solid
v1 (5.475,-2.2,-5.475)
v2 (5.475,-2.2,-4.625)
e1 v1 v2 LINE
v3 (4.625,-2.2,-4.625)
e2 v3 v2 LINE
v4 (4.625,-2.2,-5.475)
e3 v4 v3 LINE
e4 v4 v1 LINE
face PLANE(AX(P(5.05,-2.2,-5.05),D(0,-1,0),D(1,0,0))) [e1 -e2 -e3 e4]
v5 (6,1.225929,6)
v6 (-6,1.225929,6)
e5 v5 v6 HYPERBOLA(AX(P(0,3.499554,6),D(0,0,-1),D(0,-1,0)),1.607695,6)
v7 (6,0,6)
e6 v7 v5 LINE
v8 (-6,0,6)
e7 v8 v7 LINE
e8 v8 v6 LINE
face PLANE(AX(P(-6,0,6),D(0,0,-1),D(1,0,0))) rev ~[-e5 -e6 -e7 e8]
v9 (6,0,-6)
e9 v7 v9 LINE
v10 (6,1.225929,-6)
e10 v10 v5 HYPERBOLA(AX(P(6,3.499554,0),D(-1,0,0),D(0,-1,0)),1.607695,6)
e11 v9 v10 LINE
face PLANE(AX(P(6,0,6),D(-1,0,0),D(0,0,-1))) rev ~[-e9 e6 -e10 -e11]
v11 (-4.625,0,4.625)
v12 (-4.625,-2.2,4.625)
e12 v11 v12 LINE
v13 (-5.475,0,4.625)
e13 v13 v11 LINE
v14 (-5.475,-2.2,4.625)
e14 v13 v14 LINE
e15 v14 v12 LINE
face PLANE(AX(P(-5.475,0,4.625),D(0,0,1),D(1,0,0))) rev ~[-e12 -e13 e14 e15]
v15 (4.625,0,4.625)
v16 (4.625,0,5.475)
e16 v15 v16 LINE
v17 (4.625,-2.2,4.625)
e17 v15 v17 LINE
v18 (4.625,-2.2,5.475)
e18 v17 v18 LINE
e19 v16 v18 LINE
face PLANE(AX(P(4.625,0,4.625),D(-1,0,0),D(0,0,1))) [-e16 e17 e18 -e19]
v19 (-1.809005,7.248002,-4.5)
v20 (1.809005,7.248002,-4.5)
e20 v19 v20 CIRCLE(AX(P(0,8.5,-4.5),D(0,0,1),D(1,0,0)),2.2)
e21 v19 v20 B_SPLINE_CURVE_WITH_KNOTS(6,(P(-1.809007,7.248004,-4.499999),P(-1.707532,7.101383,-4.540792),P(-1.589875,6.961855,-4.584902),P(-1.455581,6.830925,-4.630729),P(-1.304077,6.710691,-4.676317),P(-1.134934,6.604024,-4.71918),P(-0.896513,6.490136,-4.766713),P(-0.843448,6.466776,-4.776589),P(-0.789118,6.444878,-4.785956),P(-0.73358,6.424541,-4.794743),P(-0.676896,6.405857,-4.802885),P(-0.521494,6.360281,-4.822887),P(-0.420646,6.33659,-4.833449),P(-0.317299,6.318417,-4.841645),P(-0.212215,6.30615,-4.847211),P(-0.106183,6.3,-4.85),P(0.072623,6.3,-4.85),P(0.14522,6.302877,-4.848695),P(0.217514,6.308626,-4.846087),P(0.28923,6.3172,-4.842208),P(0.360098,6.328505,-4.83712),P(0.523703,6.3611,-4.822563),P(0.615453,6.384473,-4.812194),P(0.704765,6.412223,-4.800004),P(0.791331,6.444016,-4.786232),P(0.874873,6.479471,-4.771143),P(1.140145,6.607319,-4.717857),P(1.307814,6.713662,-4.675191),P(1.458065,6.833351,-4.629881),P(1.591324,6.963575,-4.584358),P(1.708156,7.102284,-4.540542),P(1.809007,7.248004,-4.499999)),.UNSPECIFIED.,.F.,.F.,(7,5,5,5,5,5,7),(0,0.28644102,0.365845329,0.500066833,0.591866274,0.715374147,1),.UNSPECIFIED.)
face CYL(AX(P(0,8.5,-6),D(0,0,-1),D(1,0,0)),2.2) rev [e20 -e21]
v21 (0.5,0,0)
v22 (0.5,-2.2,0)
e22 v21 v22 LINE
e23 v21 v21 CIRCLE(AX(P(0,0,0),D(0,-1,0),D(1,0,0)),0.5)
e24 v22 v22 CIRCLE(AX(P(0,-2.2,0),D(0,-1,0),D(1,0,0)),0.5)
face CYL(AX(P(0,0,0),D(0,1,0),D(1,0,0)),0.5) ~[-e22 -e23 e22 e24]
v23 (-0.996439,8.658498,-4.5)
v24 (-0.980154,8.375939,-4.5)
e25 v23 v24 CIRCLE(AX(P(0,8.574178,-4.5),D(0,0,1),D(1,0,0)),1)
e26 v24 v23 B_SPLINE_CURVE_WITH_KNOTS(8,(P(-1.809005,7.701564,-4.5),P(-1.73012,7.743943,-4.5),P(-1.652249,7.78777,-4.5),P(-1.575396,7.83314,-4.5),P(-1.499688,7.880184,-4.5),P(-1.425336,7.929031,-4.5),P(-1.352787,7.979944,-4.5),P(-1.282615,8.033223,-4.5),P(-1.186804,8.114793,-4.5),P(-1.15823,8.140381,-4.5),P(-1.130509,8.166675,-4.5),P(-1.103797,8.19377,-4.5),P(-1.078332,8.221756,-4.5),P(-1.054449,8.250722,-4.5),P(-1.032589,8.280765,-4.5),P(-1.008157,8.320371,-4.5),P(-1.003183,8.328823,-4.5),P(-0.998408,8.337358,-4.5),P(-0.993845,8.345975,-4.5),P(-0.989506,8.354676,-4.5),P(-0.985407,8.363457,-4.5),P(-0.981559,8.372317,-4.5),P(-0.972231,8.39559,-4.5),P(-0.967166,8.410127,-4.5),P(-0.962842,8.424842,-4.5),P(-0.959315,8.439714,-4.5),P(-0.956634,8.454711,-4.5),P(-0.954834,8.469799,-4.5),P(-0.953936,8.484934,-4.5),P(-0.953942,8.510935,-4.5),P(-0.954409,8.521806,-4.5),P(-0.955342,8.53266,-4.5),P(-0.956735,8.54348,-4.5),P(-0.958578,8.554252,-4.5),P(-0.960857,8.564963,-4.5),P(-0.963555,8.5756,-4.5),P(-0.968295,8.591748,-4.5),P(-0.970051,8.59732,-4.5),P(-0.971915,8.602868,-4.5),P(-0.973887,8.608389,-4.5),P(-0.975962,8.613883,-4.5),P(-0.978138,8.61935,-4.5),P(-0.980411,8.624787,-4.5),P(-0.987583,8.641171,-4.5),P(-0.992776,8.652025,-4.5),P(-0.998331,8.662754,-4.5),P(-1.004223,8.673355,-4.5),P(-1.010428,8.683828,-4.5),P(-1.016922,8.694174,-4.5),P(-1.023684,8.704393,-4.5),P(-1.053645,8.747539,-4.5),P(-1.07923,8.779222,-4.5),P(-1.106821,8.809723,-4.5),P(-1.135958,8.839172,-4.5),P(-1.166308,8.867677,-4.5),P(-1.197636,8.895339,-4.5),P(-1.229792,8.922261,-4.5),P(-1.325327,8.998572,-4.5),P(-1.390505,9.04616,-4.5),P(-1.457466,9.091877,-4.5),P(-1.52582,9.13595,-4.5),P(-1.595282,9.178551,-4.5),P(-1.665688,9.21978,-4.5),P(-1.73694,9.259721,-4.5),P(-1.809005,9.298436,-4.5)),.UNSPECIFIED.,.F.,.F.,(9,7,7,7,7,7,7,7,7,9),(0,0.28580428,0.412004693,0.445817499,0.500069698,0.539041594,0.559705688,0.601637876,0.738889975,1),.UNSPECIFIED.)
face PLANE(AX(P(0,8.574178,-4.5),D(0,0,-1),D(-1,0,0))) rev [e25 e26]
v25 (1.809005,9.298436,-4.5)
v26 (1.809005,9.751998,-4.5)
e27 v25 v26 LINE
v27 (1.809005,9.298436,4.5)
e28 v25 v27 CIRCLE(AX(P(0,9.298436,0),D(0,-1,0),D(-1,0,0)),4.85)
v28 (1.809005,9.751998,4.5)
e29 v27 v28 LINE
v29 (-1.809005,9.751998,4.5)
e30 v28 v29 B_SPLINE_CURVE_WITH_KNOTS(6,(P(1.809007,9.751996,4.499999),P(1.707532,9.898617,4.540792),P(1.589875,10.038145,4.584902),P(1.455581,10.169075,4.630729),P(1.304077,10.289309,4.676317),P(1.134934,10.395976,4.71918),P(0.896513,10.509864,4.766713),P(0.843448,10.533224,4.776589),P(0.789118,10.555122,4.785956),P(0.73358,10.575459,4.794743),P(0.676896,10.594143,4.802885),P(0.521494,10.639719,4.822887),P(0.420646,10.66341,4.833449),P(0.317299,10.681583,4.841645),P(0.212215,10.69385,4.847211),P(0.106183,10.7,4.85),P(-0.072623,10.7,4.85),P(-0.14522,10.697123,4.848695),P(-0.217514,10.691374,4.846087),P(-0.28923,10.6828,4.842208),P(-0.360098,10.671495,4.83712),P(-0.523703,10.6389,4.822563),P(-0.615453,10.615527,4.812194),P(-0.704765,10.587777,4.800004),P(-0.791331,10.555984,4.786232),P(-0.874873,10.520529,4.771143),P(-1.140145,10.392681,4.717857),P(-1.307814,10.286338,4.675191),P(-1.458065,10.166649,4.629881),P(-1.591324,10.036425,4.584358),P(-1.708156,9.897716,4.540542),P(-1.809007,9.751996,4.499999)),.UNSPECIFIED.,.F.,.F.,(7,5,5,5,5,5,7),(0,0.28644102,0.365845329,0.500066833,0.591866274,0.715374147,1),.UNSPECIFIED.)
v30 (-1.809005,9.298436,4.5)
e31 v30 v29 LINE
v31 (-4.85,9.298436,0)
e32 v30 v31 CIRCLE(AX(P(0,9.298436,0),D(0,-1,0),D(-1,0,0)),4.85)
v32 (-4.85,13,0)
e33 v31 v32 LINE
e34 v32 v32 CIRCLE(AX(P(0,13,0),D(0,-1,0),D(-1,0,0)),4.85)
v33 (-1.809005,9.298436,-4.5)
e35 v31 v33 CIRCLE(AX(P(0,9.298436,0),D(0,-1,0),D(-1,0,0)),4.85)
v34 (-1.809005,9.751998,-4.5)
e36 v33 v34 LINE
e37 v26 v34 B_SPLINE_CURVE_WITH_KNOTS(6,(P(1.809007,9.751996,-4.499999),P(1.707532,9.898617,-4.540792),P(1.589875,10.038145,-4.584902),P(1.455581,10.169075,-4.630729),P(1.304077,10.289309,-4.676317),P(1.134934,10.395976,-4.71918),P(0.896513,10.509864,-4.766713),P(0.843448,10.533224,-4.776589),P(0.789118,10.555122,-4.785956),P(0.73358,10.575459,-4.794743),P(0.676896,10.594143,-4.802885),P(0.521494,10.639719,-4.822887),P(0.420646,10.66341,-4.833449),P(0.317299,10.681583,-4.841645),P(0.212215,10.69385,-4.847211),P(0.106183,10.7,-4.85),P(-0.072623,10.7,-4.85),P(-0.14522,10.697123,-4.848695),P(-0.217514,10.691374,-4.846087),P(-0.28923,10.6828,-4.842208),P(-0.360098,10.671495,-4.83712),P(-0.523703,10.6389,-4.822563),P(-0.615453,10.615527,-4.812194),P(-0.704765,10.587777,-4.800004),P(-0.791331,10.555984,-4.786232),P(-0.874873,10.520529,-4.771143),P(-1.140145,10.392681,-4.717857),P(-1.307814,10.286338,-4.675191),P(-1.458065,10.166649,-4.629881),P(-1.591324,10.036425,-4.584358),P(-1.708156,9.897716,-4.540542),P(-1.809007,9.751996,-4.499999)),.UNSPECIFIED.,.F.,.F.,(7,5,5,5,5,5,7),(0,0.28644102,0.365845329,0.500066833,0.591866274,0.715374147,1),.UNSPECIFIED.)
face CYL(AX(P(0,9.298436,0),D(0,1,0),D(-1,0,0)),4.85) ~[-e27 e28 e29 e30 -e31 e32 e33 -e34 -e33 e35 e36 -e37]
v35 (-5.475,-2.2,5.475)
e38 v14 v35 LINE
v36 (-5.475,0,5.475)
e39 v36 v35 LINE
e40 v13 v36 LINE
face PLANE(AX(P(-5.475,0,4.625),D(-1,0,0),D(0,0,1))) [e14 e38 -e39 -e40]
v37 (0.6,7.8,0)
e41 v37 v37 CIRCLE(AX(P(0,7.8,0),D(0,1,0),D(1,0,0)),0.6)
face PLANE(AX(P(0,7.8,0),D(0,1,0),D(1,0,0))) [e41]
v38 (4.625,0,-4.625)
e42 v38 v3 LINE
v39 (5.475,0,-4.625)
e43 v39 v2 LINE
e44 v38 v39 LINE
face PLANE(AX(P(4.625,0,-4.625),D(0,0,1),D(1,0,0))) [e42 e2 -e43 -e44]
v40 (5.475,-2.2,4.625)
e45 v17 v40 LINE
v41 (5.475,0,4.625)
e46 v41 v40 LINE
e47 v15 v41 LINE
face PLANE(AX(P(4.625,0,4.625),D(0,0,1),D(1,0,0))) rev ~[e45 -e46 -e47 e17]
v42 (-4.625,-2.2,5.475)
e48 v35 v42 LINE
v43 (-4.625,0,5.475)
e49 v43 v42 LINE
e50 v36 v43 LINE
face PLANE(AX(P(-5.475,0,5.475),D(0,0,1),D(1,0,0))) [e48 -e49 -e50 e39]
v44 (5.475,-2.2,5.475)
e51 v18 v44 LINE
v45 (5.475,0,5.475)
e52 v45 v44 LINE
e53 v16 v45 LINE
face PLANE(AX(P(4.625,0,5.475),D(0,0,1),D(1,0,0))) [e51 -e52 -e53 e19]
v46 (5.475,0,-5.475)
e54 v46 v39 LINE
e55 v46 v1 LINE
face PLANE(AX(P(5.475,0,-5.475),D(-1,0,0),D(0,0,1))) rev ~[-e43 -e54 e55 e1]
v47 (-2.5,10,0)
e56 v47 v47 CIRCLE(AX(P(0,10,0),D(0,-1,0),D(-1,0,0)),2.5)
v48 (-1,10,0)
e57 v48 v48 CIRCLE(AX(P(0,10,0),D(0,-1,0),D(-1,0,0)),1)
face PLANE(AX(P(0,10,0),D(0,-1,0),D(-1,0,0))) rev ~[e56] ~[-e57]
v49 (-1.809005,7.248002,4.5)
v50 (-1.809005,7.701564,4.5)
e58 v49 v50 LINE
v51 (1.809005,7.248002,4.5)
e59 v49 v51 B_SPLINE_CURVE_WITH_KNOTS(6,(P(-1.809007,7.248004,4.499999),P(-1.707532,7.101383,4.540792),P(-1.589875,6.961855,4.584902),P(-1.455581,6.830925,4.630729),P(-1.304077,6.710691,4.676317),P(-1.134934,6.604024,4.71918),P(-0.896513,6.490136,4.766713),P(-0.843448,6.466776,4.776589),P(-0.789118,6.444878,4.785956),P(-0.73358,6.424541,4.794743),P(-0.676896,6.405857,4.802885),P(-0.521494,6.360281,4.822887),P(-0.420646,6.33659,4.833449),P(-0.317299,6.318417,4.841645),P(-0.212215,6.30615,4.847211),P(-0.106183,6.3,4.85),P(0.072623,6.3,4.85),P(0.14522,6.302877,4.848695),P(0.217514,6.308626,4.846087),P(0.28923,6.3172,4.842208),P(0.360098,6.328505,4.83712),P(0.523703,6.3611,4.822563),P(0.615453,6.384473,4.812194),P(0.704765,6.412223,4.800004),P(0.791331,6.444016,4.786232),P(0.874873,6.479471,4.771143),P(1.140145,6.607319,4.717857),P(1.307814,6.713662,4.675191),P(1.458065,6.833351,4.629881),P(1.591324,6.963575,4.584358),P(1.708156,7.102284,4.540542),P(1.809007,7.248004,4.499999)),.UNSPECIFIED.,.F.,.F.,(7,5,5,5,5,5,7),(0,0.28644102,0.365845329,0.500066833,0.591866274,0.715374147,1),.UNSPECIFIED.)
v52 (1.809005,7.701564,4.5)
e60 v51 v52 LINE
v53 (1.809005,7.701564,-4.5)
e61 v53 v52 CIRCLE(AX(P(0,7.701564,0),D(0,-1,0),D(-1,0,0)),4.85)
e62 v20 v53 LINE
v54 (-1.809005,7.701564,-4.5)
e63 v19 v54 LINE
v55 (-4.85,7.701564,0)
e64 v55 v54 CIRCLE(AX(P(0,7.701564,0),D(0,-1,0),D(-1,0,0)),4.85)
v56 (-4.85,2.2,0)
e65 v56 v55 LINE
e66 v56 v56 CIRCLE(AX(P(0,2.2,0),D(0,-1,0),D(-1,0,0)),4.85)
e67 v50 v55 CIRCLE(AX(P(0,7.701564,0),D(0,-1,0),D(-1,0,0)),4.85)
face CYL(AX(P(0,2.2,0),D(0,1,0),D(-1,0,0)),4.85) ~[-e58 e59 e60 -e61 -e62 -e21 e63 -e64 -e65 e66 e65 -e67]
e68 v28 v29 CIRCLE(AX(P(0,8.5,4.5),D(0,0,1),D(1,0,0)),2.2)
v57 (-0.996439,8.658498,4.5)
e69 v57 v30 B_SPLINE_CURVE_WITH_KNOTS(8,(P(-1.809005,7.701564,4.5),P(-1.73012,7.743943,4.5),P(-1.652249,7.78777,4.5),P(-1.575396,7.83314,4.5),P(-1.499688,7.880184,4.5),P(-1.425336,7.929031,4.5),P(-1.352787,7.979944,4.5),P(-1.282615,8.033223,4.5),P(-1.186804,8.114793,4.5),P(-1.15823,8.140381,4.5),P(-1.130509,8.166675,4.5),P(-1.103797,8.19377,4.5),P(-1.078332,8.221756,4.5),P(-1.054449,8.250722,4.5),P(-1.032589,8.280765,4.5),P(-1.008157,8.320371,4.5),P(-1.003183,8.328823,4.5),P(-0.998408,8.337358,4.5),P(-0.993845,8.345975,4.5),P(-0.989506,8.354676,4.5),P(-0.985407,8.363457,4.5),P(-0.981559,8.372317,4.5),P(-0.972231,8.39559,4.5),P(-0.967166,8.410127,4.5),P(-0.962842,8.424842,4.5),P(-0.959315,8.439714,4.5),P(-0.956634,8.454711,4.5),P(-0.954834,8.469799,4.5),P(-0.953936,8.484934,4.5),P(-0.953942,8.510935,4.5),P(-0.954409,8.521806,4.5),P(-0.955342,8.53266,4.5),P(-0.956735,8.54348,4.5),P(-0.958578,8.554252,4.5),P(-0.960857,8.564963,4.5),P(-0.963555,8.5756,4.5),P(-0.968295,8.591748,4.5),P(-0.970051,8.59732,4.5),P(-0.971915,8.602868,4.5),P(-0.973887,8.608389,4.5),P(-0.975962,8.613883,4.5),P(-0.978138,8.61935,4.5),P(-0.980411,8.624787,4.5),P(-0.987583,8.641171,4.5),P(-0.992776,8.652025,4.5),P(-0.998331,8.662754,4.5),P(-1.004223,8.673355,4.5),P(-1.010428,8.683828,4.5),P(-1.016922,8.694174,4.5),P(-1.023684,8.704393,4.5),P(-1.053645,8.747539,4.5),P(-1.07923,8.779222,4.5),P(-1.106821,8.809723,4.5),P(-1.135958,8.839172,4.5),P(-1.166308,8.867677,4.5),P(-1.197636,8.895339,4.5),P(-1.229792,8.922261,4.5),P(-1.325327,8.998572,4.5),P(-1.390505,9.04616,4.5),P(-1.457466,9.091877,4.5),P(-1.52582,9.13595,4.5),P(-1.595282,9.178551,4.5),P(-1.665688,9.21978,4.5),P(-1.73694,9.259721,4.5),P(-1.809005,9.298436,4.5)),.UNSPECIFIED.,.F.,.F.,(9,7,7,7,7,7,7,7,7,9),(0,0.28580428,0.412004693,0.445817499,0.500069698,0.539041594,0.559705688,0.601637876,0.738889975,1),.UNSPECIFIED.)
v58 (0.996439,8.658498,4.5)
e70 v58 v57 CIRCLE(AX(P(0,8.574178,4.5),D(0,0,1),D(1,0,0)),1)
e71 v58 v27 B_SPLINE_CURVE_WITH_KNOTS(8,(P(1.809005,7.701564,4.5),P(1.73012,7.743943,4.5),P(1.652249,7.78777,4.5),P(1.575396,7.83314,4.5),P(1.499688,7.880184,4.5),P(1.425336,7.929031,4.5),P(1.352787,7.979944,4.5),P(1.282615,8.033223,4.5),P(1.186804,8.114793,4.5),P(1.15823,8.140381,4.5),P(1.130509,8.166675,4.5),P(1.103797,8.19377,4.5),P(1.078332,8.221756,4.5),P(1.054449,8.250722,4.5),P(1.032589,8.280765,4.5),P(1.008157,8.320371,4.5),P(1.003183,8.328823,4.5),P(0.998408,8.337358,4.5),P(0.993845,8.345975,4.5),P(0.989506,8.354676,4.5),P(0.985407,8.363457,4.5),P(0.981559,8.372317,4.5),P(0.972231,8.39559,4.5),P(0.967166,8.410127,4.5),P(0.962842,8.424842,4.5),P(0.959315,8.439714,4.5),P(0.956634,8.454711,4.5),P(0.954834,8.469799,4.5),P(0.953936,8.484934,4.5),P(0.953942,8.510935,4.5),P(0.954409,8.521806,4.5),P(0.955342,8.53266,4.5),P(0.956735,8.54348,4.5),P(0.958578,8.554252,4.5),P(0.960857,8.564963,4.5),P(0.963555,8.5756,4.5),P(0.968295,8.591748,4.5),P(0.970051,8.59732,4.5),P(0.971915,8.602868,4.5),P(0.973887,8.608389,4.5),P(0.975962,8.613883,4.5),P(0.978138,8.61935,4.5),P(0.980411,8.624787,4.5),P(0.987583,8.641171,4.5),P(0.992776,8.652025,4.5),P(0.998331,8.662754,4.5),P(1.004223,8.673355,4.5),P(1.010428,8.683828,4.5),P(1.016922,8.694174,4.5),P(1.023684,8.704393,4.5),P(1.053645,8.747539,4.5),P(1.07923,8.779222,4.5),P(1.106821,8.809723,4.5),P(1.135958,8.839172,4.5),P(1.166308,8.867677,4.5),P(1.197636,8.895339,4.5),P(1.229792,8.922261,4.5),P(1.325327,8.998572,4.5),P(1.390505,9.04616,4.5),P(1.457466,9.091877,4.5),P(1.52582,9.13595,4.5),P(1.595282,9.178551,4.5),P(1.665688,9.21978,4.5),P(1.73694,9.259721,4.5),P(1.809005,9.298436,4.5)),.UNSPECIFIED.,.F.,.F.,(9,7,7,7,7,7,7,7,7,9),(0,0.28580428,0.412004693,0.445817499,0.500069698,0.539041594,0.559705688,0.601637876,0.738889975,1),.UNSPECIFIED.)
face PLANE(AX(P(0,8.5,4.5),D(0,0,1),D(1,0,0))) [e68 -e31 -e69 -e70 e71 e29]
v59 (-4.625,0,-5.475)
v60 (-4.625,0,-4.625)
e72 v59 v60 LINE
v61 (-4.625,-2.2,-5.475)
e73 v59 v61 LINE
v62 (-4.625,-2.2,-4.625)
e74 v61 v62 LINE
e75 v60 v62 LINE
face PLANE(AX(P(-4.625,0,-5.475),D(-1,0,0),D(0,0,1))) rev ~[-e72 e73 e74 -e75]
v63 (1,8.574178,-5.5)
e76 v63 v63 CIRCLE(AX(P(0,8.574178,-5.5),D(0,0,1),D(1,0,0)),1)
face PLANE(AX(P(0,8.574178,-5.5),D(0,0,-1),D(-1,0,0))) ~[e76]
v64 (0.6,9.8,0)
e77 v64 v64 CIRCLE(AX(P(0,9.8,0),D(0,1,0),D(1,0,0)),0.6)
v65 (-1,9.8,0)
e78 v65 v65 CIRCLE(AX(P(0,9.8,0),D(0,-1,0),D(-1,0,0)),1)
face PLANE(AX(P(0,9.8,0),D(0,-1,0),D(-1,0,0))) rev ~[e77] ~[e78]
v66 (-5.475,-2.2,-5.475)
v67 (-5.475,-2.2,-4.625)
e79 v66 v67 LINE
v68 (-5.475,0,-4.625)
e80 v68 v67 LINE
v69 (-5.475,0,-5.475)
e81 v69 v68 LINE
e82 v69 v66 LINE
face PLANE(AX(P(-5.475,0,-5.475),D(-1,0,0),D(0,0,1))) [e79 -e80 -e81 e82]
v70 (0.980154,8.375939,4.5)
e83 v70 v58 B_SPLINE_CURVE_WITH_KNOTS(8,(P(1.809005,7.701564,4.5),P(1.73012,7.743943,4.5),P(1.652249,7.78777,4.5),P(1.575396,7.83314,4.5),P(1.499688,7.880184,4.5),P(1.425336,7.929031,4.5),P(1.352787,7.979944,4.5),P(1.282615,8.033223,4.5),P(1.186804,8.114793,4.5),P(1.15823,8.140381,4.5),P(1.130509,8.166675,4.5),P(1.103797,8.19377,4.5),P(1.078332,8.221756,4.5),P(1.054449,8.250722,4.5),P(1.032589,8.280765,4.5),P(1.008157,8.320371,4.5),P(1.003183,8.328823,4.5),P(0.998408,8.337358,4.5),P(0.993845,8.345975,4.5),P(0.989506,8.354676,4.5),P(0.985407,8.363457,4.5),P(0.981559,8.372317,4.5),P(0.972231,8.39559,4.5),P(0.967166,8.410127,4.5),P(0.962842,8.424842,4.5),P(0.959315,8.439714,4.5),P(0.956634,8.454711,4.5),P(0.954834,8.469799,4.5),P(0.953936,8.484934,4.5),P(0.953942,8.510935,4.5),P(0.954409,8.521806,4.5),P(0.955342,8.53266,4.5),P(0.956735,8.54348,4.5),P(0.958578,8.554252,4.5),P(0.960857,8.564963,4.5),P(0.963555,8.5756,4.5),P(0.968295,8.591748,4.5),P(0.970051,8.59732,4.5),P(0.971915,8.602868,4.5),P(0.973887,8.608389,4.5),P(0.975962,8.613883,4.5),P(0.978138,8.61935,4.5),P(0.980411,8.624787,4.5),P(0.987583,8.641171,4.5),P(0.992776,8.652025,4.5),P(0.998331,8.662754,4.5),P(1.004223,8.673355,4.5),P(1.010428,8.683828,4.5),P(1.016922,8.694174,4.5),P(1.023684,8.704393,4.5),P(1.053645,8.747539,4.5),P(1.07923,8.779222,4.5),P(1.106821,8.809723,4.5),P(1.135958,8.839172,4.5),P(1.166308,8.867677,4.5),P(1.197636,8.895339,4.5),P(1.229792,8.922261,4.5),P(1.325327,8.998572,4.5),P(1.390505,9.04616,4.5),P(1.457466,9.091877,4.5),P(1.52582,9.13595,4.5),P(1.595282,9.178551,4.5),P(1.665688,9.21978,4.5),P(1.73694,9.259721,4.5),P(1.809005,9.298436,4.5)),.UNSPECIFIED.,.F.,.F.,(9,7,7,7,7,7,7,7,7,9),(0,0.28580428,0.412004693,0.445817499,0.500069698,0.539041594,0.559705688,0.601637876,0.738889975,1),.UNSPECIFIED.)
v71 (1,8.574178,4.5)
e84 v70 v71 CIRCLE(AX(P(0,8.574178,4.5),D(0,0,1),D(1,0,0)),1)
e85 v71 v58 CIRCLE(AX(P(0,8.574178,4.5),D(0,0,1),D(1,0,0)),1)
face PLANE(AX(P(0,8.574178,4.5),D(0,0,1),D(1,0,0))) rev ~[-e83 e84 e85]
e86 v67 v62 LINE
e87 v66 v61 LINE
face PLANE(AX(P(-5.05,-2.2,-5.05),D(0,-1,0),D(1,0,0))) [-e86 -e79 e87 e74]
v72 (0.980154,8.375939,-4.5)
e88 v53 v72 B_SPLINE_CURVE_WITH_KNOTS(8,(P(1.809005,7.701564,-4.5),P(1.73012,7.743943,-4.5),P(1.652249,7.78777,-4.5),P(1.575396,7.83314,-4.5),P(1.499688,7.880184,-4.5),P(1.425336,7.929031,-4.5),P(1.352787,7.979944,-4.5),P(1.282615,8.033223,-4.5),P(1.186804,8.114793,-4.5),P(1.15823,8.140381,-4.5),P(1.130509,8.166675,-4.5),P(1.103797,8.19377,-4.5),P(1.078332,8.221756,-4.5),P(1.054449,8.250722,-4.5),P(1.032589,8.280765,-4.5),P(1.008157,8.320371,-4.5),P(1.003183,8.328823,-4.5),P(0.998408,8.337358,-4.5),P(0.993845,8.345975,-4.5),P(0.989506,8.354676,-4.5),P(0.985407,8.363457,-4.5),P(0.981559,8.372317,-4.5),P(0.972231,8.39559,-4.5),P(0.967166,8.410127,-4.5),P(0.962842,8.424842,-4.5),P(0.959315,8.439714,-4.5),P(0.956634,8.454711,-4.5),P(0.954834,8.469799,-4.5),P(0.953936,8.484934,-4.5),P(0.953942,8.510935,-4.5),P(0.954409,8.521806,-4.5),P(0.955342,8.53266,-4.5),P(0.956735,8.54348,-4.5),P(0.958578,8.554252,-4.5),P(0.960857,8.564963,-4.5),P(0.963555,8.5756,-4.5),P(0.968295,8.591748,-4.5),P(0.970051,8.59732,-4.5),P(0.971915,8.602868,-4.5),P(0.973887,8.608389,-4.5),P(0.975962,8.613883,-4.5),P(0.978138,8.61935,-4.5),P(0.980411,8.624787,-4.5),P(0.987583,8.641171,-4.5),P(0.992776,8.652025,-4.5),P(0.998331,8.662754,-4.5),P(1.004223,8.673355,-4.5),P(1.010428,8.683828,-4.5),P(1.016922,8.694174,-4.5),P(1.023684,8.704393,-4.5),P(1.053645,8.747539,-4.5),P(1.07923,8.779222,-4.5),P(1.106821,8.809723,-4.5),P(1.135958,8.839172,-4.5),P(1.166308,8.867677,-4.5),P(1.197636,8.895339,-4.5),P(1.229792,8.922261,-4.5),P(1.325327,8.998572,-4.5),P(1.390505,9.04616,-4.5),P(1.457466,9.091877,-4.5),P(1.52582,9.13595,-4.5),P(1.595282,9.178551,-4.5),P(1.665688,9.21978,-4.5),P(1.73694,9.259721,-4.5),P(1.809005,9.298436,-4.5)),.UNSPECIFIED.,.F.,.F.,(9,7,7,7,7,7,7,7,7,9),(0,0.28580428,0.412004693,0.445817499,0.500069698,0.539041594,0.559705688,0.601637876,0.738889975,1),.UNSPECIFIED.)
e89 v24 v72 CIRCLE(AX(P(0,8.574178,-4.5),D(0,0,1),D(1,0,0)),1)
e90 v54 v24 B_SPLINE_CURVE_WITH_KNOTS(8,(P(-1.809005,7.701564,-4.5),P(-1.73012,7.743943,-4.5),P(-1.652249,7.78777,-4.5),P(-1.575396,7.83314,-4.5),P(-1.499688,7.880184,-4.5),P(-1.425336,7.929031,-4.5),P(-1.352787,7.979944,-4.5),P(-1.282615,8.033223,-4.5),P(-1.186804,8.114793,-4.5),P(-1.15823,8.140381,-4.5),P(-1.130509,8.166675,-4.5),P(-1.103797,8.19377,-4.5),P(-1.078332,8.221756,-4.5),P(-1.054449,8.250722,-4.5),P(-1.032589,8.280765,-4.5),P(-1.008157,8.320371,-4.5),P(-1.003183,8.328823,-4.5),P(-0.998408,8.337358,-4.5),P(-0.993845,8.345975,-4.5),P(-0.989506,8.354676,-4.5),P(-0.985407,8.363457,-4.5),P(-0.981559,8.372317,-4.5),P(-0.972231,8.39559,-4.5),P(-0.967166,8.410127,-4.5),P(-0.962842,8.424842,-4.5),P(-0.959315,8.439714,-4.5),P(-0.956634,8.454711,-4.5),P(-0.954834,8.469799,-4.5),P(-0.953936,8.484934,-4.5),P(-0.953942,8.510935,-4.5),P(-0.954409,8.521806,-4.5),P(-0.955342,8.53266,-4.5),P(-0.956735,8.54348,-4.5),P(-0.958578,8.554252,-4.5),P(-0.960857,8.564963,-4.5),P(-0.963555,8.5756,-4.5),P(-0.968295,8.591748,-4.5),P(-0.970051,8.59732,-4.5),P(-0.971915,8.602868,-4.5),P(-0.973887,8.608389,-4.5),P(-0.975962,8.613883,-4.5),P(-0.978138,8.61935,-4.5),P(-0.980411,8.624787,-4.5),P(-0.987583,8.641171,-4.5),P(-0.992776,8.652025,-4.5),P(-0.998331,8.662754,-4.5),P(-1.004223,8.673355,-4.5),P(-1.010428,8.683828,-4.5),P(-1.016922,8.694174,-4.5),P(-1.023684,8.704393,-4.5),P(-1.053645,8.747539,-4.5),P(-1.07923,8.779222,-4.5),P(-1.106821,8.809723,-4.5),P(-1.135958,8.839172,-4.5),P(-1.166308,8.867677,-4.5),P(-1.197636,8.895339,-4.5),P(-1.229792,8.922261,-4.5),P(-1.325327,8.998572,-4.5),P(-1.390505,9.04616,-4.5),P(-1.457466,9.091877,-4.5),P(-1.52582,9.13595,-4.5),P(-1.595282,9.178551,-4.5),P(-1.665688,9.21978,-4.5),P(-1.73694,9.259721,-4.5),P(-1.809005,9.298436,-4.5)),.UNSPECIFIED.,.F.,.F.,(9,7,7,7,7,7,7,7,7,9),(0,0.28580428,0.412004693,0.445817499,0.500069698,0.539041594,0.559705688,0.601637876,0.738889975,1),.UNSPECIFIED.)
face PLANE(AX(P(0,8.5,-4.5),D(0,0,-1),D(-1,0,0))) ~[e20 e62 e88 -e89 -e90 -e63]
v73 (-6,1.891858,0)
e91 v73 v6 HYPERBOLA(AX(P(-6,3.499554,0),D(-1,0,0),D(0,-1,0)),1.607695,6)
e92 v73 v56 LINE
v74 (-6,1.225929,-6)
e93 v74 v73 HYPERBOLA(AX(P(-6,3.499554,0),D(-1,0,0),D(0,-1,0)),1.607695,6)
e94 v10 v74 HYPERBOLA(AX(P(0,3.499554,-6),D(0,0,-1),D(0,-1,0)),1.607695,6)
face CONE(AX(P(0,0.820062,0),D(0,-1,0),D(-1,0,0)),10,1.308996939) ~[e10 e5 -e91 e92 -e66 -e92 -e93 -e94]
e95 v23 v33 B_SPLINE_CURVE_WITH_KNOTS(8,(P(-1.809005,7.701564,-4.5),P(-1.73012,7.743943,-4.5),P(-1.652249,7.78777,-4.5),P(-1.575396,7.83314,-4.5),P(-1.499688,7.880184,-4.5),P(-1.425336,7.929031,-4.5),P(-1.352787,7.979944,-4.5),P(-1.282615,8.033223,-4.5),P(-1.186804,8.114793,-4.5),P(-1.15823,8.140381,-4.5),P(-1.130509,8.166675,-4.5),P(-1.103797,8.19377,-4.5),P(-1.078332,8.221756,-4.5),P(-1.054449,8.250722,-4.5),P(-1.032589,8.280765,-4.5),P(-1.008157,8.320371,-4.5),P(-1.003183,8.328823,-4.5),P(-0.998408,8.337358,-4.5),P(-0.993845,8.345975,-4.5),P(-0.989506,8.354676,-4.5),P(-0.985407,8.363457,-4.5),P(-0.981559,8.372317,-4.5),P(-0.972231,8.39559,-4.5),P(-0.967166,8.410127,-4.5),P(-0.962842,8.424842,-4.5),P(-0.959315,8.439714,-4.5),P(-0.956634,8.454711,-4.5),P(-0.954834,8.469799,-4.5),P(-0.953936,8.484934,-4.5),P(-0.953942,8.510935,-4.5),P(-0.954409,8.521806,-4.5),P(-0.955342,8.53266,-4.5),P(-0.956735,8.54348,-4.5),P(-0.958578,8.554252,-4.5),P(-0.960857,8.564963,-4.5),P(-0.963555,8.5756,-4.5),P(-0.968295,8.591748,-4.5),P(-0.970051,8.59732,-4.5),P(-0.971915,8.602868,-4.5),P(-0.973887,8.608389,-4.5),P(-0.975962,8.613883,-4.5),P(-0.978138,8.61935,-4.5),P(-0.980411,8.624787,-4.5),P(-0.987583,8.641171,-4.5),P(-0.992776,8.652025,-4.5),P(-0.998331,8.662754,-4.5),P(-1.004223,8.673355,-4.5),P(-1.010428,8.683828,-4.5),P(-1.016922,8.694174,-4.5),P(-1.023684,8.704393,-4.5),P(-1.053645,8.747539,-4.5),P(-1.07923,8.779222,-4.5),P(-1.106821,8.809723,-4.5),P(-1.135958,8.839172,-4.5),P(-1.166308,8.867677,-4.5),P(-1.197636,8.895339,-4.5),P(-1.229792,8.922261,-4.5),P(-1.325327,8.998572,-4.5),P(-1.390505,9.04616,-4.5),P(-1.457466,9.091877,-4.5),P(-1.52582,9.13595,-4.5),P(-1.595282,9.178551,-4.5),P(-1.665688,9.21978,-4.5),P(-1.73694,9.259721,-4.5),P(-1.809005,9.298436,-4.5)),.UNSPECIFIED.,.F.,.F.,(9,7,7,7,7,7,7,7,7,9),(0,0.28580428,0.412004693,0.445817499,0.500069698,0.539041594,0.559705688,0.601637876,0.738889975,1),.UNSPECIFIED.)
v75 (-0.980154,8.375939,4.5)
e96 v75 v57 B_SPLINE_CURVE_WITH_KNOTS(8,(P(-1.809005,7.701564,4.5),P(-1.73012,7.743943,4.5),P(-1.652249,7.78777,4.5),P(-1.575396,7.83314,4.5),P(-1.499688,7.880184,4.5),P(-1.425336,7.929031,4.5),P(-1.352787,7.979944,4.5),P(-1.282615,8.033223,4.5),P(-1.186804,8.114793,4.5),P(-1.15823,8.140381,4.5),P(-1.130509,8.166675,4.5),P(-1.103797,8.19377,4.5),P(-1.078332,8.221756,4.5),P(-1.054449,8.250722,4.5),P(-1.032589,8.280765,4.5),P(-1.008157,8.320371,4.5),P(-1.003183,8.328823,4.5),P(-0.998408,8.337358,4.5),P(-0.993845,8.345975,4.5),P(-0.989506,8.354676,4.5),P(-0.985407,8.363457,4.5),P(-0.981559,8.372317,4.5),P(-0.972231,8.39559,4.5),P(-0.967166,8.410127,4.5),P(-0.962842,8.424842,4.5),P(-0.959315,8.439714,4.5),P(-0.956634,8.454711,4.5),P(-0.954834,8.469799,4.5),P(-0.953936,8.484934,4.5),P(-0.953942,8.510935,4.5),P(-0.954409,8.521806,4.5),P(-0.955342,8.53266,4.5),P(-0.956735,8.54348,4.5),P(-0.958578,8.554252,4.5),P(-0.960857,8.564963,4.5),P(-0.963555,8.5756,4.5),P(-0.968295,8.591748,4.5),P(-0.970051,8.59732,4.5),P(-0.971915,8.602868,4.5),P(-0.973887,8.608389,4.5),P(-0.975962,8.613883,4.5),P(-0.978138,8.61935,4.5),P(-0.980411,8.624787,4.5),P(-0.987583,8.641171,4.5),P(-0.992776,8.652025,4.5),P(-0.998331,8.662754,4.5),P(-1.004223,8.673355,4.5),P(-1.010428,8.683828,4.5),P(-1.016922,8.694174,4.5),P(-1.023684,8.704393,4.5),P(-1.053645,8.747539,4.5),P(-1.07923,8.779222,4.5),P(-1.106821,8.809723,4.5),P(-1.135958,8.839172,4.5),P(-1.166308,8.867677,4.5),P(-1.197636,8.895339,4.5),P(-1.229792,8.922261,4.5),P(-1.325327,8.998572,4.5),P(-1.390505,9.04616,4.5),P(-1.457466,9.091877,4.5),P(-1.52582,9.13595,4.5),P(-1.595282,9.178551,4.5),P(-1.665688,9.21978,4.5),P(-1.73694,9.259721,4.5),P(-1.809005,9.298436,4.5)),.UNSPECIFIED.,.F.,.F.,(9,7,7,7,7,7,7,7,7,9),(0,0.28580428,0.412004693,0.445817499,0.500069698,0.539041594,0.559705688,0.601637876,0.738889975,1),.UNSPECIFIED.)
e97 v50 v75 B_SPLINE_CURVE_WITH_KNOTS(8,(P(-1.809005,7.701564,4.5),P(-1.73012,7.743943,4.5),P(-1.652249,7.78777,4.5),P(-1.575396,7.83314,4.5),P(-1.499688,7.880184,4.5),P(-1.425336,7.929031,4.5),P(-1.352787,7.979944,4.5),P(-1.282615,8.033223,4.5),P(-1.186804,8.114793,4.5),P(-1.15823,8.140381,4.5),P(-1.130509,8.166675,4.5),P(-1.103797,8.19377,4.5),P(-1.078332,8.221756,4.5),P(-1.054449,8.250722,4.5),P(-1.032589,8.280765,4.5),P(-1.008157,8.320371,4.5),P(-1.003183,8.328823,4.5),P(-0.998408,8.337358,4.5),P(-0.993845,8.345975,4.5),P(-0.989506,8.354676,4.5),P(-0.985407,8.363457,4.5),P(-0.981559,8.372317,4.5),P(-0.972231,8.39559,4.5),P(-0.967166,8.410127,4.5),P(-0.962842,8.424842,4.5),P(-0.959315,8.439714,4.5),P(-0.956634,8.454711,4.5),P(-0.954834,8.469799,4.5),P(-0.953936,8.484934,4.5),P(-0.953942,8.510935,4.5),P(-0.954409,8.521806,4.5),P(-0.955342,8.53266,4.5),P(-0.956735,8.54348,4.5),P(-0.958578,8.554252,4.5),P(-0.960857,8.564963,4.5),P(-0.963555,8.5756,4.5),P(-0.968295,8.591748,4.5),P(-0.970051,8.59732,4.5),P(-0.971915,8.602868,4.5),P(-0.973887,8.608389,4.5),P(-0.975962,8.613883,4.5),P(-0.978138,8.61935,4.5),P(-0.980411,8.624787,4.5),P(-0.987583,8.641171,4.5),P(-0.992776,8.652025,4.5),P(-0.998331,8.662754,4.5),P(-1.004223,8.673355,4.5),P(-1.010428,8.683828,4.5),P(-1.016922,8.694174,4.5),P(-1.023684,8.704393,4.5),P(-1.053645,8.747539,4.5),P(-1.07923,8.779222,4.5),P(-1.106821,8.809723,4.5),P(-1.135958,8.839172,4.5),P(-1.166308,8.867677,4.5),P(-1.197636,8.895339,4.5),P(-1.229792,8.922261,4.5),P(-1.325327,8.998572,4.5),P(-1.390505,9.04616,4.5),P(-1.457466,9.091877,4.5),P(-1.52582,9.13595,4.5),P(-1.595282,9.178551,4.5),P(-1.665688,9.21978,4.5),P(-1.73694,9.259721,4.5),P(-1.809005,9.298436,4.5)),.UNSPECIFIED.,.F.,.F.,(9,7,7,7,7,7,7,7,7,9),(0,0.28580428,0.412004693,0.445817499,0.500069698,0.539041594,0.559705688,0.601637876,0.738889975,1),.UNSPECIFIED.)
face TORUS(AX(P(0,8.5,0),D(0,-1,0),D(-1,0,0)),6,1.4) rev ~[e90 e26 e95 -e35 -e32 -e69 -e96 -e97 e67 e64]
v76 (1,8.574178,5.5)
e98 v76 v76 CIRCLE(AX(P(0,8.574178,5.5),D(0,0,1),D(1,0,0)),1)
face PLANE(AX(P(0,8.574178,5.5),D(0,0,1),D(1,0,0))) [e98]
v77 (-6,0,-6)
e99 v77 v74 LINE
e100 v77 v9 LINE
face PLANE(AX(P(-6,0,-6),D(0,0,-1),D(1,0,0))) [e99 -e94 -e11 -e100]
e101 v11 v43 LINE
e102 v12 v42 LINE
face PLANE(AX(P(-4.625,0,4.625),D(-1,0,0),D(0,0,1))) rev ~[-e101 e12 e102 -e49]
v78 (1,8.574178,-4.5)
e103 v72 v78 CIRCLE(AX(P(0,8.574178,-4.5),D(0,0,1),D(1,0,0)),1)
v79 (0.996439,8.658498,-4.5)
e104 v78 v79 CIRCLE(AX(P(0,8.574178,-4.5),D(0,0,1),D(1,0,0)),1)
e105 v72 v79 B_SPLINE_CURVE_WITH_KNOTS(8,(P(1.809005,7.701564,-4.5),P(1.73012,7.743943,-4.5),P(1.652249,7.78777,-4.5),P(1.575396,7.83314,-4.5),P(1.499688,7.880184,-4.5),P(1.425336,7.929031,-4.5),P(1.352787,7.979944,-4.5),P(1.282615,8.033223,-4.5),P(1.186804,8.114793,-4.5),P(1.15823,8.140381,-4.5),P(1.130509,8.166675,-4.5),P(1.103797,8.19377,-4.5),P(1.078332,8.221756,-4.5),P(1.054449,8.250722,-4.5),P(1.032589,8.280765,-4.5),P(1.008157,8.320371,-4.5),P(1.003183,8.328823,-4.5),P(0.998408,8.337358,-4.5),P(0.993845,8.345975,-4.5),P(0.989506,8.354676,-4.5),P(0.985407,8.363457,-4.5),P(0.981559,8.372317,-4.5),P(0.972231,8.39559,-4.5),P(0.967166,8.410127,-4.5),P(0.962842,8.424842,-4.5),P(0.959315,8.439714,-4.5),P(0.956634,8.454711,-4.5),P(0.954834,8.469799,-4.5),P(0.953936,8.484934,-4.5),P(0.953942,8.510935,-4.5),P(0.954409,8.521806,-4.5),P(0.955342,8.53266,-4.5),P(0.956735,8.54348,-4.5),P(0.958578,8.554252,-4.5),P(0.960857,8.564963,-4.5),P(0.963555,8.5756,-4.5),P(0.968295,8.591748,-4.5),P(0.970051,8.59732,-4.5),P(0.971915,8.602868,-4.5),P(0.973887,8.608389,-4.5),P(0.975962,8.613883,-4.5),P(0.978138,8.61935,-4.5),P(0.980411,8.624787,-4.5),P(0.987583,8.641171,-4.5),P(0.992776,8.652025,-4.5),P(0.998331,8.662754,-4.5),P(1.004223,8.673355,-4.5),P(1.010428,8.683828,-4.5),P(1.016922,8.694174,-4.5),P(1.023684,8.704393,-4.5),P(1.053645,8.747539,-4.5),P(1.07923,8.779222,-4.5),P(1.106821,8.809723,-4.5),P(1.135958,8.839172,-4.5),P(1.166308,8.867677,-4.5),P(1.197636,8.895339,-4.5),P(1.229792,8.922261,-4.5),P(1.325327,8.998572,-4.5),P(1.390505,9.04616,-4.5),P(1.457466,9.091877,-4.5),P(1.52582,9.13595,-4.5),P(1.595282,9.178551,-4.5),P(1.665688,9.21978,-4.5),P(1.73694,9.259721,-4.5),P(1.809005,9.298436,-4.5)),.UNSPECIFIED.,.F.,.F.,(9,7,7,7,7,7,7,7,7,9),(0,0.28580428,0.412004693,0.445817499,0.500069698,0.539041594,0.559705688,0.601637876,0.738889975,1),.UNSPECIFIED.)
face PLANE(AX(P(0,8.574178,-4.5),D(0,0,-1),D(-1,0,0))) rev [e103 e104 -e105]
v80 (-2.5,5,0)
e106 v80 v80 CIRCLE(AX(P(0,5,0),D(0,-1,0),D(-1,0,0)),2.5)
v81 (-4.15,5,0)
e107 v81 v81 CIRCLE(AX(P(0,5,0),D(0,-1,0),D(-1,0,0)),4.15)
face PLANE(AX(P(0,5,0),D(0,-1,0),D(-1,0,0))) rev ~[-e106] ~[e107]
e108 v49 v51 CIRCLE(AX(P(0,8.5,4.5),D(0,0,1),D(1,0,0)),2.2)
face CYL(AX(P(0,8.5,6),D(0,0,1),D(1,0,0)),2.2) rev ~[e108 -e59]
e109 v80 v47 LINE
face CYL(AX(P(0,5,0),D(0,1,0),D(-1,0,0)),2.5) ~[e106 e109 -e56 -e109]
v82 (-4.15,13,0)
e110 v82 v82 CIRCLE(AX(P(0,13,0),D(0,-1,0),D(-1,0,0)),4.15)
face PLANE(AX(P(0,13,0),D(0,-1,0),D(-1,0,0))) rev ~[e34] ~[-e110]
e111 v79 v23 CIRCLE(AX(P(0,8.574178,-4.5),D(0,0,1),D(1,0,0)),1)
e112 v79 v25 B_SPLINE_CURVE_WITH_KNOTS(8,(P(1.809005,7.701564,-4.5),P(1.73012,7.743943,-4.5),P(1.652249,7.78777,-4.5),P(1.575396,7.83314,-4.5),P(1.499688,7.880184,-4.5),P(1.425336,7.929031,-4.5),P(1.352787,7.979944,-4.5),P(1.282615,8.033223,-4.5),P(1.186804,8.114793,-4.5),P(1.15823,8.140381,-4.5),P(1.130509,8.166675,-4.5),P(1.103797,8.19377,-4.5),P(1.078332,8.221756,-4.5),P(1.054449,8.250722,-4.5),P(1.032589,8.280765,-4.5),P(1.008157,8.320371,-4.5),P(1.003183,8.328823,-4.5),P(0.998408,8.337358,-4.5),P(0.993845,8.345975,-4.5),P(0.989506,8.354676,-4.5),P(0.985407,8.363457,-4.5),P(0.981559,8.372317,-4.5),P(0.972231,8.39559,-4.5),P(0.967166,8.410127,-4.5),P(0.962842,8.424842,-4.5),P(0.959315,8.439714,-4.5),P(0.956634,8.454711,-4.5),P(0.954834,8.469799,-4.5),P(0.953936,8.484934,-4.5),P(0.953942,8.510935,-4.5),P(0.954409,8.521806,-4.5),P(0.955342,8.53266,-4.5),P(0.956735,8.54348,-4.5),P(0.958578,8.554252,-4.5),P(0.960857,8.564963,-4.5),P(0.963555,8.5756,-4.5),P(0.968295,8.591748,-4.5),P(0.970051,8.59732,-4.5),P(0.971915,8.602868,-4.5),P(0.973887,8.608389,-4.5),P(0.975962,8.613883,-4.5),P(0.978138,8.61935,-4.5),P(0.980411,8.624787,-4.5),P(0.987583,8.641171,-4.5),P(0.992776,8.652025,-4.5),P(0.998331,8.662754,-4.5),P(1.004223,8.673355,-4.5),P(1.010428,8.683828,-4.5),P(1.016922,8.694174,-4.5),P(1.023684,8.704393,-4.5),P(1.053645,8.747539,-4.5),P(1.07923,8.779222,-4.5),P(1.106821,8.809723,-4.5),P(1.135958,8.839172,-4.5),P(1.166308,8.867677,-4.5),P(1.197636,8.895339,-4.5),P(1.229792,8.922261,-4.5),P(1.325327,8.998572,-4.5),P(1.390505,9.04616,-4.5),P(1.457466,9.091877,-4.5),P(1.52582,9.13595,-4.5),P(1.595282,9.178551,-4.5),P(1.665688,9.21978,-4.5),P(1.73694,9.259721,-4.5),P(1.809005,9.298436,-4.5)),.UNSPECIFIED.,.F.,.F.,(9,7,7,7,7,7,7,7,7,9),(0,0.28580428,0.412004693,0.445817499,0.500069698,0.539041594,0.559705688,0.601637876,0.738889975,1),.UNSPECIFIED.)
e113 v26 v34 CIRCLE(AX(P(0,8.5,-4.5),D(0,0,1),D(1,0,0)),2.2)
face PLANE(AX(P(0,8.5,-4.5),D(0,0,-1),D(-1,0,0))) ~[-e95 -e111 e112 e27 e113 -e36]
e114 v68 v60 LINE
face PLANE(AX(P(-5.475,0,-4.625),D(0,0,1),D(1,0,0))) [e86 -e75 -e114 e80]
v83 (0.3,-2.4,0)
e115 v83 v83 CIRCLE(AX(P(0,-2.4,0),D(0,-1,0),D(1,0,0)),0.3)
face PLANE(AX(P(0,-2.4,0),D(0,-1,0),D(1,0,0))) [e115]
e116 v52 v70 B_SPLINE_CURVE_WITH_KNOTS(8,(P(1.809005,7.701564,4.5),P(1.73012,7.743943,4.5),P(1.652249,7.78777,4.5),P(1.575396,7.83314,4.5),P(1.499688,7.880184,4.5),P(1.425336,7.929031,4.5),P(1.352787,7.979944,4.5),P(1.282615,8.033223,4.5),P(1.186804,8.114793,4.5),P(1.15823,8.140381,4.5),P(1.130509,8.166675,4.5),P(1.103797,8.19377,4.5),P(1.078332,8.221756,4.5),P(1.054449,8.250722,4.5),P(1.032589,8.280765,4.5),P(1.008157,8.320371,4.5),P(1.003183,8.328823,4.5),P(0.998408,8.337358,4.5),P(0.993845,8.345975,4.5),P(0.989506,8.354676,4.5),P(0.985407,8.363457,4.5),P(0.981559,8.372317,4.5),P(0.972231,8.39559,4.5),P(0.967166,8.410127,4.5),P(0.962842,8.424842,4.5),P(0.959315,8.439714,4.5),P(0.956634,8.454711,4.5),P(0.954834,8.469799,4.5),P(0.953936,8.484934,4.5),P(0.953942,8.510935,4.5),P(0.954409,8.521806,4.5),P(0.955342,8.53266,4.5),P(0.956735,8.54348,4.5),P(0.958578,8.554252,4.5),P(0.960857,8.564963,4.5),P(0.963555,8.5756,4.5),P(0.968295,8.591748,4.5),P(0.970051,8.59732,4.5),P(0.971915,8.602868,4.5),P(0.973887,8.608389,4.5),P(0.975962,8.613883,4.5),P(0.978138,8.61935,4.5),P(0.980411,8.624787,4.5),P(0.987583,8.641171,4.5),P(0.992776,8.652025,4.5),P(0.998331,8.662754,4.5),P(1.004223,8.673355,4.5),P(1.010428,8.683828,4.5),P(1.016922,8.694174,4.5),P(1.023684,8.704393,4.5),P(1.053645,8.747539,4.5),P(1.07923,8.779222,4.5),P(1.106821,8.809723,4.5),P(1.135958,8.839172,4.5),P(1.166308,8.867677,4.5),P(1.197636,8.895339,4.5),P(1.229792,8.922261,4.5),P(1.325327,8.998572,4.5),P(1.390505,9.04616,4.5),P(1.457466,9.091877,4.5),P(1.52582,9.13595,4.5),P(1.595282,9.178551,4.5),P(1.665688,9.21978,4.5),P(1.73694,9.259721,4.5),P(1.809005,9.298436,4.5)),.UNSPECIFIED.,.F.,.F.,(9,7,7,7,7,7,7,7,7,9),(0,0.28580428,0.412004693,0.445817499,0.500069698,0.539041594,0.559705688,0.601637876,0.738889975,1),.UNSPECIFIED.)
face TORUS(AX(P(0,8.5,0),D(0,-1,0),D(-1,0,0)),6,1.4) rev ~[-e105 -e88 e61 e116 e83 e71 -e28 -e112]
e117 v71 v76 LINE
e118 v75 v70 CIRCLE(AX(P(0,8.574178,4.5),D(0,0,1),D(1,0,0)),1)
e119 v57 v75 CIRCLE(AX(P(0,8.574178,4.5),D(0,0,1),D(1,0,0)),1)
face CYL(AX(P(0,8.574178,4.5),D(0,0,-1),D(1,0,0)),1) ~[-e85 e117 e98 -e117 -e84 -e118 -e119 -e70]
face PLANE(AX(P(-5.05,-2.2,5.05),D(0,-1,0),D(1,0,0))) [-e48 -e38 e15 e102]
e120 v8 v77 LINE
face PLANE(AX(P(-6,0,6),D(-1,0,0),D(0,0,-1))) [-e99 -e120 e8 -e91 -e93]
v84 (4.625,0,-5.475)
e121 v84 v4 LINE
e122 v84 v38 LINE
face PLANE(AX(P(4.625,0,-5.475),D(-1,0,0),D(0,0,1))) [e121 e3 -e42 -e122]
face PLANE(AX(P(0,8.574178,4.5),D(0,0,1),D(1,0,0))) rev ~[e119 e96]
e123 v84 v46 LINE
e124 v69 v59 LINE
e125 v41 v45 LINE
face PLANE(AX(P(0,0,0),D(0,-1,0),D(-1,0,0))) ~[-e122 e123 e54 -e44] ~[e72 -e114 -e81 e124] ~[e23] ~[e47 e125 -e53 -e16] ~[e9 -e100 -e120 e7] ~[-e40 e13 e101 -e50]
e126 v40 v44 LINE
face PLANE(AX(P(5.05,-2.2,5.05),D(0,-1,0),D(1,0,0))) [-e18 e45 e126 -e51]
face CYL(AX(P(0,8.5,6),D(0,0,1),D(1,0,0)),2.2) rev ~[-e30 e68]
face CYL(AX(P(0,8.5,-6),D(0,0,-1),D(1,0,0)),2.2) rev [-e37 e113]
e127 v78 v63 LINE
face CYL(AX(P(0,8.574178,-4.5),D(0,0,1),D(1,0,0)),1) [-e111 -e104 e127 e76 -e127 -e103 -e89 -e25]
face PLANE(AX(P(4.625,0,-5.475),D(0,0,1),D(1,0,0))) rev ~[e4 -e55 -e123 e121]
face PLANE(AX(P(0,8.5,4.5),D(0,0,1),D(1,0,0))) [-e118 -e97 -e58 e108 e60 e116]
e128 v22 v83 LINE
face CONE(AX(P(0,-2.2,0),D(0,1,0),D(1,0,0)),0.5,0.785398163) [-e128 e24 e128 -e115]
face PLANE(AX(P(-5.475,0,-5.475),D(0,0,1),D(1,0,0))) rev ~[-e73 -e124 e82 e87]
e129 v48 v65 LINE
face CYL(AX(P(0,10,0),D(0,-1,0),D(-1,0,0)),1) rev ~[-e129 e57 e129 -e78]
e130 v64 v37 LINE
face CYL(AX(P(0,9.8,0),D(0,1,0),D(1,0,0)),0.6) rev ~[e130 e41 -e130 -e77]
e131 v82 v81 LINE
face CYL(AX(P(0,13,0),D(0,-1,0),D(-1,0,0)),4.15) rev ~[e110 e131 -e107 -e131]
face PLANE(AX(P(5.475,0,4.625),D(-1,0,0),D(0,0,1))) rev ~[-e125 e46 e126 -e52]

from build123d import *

# Parameters (mm, degrees)
ESQUISSE2_W                  = 22
ESQUISSE2_H                  = 22
ESQUISSE2_W_2                = 12
ESQUISSE2_H_2                = 12
ENL_V_MAT_EXTRU_4_DEPTH      = 14
ENL_V_MAT_EXTRU_4_DEPTH_BACK = 1
ESQUISSE3_W                  = 0.85
ESQUISSE3_H                  = 0.85
BOSS_EXTRU_1_DEPTH           = 2.2
ESQUISSE4_R                  = 0.6
ENL_V_MAT_EXTRU_5_DEPTH      = 2
ESQUISSE5_R                  = 2.2
ENL_V_MAT_EXTRU_6_DEPTH      = 1.5
ESQUISSE6_R                  = 1
BOSS_EXTRU_2_DEPTH           = 1
ESQUISSE7_R                  = 0.5
BOSS_EXTRU_3_DEPTH           = 2.4
CHANFREIN1_SIZE              = 0.2


with BuildPart() as part:
    # Esquisse1 → Révolution1 (revolve)
    with BuildSketch(Plane.XY):
        with BuildLine():
            Line((0, 0), (-10, 0))
            Line((-10, 0), (-10, 0.820061659))
            Line((-10, 0.820061659), (-4.85, 2.2))
            Line((-4.85, 2.2), (-4.85, 7.701564029))
            ThreePointArc((-4.85, 7.701564029), (-4.6, 8.5), (-4.85, 9.298435971))
            Line((-4.85, 9.298435971), (-4.85, 13))
            Line((-4.85, 13), (-4.15, 13))
            Line((-4.15, 13), (-4.15, 5))
            Line((-4.15, 5), (-2.5, 5))
            Line((-2.5, 5), (-2.5, 10))
            Line((-2.5, 10), (-1, 10))
            Line((-1, 10), (-1, 9.8))
            Line((-1, 9.8), (0, 9.8))
            Line((0, 9.8), (0, 0))
        make_face()
    revolve(axis=Axis((0, 9.8, 0), (0, -1, 0)))

    # Esquisse2 → Enlèv. mat.-Extru.4 (cut, two sides)
    with BuildSketch(Plane(origin=(0, 0, 0), x_dir=(1, 0, 0), z_dir=(0, 1, 0))) as enl_v_mat_extru_4_sk:
        Rectangle(ESQUISSE2_W, ESQUISSE2_H)
        Rectangle(ESQUISSE2_W_2, ESQUISSE2_H_2, mode=Mode.SUBTRACT)
    extrude(amount=ENL_V_MAT_EXTRU_4_DEPTH, mode=Mode.SUBTRACT)
    extrude(enl_v_mat_extru_4_sk.sketch, amount=-ENL_V_MAT_EXTRU_4_DEPTH_BACK, mode=Mode.SUBTRACT)

    # Esquisse3 → Boss.-Extru.1 (add)
    with BuildSketch(Plane.XZ):
        with Locations((5.05, -5.05)):
            Rectangle(ESQUISSE3_W, ESQUISSE3_H)
        with Locations((-5.05, -5.05)):
            Rectangle(ESQUISSE3_W, ESQUISSE3_H)
        with Locations((-5.05, 5.05)):
            Rectangle(ESQUISSE3_W, ESQUISSE3_H)
        with Locations((5.05, 5.05)):
            Rectangle(ESQUISSE3_W, ESQUISSE3_H)
    extrude(amount=BOSS_EXTRU_1_DEPTH)

    # Esquisse4 → Enlèv. mat.-Extru.5 (cut)
    with BuildSketch(Plane(origin=(0, 9.8, 0), x_dir=(1, 0, 0), z_dir=(0, 1, 0))):
        Circle(ESQUISSE4_R)
    extrude(amount=-ENL_V_MAT_EXTRU_5_DEPTH, mode=Mode.SUBTRACT)

    # Esquisse5 → Enlèv. mat.-Extru.6 (cut)
    with BuildSketch(Plane.XY.offset(6)):
        with Locations((0, 8.5)):
            Circle(ESQUISSE5_R)
    enl_v_mat_extru_6 = extrude(amount=-ENL_V_MAT_EXTRU_6_DEPTH, mode=Mode.SUBTRACT)

    # Esquisse6 → Boss.-Extru.2 (add)
    with BuildSketch(Plane.XY.offset(4.5)):
        with Locations((0, 8.574177758)):
            Circle(ESQUISSE6_R)
    boss_extru_2 = extrude(amount=BOSS_EXTRU_2_DEPTH)

    # Symétrie1: Enlèv. mat.-Extru.6, Boss.-Extru.2 across plane
    add(enl_v_mat_extru_6.mirror(Plane.XY), mode=Mode.SUBTRACT)
    add(boss_extru_2.mirror(Plane.XY))

    # Esquisse7 → Boss.-Extru.3 (add)
    with BuildSketch(Plane.XZ):
        Circle(ESQUISSE7_R)
    extrude(amount=BOSS_EXTRU_3_DEPTH)

    # Chanfrein1
    chanfrein1_edges = [part.edges().sort_by_distance(p)[0] for p in [
        (-0.5, -2.4, 0),
    ]]
    chamfer(chanfrein1_edges, length=CHANFREIN1_SIZE)


solid = part.part
